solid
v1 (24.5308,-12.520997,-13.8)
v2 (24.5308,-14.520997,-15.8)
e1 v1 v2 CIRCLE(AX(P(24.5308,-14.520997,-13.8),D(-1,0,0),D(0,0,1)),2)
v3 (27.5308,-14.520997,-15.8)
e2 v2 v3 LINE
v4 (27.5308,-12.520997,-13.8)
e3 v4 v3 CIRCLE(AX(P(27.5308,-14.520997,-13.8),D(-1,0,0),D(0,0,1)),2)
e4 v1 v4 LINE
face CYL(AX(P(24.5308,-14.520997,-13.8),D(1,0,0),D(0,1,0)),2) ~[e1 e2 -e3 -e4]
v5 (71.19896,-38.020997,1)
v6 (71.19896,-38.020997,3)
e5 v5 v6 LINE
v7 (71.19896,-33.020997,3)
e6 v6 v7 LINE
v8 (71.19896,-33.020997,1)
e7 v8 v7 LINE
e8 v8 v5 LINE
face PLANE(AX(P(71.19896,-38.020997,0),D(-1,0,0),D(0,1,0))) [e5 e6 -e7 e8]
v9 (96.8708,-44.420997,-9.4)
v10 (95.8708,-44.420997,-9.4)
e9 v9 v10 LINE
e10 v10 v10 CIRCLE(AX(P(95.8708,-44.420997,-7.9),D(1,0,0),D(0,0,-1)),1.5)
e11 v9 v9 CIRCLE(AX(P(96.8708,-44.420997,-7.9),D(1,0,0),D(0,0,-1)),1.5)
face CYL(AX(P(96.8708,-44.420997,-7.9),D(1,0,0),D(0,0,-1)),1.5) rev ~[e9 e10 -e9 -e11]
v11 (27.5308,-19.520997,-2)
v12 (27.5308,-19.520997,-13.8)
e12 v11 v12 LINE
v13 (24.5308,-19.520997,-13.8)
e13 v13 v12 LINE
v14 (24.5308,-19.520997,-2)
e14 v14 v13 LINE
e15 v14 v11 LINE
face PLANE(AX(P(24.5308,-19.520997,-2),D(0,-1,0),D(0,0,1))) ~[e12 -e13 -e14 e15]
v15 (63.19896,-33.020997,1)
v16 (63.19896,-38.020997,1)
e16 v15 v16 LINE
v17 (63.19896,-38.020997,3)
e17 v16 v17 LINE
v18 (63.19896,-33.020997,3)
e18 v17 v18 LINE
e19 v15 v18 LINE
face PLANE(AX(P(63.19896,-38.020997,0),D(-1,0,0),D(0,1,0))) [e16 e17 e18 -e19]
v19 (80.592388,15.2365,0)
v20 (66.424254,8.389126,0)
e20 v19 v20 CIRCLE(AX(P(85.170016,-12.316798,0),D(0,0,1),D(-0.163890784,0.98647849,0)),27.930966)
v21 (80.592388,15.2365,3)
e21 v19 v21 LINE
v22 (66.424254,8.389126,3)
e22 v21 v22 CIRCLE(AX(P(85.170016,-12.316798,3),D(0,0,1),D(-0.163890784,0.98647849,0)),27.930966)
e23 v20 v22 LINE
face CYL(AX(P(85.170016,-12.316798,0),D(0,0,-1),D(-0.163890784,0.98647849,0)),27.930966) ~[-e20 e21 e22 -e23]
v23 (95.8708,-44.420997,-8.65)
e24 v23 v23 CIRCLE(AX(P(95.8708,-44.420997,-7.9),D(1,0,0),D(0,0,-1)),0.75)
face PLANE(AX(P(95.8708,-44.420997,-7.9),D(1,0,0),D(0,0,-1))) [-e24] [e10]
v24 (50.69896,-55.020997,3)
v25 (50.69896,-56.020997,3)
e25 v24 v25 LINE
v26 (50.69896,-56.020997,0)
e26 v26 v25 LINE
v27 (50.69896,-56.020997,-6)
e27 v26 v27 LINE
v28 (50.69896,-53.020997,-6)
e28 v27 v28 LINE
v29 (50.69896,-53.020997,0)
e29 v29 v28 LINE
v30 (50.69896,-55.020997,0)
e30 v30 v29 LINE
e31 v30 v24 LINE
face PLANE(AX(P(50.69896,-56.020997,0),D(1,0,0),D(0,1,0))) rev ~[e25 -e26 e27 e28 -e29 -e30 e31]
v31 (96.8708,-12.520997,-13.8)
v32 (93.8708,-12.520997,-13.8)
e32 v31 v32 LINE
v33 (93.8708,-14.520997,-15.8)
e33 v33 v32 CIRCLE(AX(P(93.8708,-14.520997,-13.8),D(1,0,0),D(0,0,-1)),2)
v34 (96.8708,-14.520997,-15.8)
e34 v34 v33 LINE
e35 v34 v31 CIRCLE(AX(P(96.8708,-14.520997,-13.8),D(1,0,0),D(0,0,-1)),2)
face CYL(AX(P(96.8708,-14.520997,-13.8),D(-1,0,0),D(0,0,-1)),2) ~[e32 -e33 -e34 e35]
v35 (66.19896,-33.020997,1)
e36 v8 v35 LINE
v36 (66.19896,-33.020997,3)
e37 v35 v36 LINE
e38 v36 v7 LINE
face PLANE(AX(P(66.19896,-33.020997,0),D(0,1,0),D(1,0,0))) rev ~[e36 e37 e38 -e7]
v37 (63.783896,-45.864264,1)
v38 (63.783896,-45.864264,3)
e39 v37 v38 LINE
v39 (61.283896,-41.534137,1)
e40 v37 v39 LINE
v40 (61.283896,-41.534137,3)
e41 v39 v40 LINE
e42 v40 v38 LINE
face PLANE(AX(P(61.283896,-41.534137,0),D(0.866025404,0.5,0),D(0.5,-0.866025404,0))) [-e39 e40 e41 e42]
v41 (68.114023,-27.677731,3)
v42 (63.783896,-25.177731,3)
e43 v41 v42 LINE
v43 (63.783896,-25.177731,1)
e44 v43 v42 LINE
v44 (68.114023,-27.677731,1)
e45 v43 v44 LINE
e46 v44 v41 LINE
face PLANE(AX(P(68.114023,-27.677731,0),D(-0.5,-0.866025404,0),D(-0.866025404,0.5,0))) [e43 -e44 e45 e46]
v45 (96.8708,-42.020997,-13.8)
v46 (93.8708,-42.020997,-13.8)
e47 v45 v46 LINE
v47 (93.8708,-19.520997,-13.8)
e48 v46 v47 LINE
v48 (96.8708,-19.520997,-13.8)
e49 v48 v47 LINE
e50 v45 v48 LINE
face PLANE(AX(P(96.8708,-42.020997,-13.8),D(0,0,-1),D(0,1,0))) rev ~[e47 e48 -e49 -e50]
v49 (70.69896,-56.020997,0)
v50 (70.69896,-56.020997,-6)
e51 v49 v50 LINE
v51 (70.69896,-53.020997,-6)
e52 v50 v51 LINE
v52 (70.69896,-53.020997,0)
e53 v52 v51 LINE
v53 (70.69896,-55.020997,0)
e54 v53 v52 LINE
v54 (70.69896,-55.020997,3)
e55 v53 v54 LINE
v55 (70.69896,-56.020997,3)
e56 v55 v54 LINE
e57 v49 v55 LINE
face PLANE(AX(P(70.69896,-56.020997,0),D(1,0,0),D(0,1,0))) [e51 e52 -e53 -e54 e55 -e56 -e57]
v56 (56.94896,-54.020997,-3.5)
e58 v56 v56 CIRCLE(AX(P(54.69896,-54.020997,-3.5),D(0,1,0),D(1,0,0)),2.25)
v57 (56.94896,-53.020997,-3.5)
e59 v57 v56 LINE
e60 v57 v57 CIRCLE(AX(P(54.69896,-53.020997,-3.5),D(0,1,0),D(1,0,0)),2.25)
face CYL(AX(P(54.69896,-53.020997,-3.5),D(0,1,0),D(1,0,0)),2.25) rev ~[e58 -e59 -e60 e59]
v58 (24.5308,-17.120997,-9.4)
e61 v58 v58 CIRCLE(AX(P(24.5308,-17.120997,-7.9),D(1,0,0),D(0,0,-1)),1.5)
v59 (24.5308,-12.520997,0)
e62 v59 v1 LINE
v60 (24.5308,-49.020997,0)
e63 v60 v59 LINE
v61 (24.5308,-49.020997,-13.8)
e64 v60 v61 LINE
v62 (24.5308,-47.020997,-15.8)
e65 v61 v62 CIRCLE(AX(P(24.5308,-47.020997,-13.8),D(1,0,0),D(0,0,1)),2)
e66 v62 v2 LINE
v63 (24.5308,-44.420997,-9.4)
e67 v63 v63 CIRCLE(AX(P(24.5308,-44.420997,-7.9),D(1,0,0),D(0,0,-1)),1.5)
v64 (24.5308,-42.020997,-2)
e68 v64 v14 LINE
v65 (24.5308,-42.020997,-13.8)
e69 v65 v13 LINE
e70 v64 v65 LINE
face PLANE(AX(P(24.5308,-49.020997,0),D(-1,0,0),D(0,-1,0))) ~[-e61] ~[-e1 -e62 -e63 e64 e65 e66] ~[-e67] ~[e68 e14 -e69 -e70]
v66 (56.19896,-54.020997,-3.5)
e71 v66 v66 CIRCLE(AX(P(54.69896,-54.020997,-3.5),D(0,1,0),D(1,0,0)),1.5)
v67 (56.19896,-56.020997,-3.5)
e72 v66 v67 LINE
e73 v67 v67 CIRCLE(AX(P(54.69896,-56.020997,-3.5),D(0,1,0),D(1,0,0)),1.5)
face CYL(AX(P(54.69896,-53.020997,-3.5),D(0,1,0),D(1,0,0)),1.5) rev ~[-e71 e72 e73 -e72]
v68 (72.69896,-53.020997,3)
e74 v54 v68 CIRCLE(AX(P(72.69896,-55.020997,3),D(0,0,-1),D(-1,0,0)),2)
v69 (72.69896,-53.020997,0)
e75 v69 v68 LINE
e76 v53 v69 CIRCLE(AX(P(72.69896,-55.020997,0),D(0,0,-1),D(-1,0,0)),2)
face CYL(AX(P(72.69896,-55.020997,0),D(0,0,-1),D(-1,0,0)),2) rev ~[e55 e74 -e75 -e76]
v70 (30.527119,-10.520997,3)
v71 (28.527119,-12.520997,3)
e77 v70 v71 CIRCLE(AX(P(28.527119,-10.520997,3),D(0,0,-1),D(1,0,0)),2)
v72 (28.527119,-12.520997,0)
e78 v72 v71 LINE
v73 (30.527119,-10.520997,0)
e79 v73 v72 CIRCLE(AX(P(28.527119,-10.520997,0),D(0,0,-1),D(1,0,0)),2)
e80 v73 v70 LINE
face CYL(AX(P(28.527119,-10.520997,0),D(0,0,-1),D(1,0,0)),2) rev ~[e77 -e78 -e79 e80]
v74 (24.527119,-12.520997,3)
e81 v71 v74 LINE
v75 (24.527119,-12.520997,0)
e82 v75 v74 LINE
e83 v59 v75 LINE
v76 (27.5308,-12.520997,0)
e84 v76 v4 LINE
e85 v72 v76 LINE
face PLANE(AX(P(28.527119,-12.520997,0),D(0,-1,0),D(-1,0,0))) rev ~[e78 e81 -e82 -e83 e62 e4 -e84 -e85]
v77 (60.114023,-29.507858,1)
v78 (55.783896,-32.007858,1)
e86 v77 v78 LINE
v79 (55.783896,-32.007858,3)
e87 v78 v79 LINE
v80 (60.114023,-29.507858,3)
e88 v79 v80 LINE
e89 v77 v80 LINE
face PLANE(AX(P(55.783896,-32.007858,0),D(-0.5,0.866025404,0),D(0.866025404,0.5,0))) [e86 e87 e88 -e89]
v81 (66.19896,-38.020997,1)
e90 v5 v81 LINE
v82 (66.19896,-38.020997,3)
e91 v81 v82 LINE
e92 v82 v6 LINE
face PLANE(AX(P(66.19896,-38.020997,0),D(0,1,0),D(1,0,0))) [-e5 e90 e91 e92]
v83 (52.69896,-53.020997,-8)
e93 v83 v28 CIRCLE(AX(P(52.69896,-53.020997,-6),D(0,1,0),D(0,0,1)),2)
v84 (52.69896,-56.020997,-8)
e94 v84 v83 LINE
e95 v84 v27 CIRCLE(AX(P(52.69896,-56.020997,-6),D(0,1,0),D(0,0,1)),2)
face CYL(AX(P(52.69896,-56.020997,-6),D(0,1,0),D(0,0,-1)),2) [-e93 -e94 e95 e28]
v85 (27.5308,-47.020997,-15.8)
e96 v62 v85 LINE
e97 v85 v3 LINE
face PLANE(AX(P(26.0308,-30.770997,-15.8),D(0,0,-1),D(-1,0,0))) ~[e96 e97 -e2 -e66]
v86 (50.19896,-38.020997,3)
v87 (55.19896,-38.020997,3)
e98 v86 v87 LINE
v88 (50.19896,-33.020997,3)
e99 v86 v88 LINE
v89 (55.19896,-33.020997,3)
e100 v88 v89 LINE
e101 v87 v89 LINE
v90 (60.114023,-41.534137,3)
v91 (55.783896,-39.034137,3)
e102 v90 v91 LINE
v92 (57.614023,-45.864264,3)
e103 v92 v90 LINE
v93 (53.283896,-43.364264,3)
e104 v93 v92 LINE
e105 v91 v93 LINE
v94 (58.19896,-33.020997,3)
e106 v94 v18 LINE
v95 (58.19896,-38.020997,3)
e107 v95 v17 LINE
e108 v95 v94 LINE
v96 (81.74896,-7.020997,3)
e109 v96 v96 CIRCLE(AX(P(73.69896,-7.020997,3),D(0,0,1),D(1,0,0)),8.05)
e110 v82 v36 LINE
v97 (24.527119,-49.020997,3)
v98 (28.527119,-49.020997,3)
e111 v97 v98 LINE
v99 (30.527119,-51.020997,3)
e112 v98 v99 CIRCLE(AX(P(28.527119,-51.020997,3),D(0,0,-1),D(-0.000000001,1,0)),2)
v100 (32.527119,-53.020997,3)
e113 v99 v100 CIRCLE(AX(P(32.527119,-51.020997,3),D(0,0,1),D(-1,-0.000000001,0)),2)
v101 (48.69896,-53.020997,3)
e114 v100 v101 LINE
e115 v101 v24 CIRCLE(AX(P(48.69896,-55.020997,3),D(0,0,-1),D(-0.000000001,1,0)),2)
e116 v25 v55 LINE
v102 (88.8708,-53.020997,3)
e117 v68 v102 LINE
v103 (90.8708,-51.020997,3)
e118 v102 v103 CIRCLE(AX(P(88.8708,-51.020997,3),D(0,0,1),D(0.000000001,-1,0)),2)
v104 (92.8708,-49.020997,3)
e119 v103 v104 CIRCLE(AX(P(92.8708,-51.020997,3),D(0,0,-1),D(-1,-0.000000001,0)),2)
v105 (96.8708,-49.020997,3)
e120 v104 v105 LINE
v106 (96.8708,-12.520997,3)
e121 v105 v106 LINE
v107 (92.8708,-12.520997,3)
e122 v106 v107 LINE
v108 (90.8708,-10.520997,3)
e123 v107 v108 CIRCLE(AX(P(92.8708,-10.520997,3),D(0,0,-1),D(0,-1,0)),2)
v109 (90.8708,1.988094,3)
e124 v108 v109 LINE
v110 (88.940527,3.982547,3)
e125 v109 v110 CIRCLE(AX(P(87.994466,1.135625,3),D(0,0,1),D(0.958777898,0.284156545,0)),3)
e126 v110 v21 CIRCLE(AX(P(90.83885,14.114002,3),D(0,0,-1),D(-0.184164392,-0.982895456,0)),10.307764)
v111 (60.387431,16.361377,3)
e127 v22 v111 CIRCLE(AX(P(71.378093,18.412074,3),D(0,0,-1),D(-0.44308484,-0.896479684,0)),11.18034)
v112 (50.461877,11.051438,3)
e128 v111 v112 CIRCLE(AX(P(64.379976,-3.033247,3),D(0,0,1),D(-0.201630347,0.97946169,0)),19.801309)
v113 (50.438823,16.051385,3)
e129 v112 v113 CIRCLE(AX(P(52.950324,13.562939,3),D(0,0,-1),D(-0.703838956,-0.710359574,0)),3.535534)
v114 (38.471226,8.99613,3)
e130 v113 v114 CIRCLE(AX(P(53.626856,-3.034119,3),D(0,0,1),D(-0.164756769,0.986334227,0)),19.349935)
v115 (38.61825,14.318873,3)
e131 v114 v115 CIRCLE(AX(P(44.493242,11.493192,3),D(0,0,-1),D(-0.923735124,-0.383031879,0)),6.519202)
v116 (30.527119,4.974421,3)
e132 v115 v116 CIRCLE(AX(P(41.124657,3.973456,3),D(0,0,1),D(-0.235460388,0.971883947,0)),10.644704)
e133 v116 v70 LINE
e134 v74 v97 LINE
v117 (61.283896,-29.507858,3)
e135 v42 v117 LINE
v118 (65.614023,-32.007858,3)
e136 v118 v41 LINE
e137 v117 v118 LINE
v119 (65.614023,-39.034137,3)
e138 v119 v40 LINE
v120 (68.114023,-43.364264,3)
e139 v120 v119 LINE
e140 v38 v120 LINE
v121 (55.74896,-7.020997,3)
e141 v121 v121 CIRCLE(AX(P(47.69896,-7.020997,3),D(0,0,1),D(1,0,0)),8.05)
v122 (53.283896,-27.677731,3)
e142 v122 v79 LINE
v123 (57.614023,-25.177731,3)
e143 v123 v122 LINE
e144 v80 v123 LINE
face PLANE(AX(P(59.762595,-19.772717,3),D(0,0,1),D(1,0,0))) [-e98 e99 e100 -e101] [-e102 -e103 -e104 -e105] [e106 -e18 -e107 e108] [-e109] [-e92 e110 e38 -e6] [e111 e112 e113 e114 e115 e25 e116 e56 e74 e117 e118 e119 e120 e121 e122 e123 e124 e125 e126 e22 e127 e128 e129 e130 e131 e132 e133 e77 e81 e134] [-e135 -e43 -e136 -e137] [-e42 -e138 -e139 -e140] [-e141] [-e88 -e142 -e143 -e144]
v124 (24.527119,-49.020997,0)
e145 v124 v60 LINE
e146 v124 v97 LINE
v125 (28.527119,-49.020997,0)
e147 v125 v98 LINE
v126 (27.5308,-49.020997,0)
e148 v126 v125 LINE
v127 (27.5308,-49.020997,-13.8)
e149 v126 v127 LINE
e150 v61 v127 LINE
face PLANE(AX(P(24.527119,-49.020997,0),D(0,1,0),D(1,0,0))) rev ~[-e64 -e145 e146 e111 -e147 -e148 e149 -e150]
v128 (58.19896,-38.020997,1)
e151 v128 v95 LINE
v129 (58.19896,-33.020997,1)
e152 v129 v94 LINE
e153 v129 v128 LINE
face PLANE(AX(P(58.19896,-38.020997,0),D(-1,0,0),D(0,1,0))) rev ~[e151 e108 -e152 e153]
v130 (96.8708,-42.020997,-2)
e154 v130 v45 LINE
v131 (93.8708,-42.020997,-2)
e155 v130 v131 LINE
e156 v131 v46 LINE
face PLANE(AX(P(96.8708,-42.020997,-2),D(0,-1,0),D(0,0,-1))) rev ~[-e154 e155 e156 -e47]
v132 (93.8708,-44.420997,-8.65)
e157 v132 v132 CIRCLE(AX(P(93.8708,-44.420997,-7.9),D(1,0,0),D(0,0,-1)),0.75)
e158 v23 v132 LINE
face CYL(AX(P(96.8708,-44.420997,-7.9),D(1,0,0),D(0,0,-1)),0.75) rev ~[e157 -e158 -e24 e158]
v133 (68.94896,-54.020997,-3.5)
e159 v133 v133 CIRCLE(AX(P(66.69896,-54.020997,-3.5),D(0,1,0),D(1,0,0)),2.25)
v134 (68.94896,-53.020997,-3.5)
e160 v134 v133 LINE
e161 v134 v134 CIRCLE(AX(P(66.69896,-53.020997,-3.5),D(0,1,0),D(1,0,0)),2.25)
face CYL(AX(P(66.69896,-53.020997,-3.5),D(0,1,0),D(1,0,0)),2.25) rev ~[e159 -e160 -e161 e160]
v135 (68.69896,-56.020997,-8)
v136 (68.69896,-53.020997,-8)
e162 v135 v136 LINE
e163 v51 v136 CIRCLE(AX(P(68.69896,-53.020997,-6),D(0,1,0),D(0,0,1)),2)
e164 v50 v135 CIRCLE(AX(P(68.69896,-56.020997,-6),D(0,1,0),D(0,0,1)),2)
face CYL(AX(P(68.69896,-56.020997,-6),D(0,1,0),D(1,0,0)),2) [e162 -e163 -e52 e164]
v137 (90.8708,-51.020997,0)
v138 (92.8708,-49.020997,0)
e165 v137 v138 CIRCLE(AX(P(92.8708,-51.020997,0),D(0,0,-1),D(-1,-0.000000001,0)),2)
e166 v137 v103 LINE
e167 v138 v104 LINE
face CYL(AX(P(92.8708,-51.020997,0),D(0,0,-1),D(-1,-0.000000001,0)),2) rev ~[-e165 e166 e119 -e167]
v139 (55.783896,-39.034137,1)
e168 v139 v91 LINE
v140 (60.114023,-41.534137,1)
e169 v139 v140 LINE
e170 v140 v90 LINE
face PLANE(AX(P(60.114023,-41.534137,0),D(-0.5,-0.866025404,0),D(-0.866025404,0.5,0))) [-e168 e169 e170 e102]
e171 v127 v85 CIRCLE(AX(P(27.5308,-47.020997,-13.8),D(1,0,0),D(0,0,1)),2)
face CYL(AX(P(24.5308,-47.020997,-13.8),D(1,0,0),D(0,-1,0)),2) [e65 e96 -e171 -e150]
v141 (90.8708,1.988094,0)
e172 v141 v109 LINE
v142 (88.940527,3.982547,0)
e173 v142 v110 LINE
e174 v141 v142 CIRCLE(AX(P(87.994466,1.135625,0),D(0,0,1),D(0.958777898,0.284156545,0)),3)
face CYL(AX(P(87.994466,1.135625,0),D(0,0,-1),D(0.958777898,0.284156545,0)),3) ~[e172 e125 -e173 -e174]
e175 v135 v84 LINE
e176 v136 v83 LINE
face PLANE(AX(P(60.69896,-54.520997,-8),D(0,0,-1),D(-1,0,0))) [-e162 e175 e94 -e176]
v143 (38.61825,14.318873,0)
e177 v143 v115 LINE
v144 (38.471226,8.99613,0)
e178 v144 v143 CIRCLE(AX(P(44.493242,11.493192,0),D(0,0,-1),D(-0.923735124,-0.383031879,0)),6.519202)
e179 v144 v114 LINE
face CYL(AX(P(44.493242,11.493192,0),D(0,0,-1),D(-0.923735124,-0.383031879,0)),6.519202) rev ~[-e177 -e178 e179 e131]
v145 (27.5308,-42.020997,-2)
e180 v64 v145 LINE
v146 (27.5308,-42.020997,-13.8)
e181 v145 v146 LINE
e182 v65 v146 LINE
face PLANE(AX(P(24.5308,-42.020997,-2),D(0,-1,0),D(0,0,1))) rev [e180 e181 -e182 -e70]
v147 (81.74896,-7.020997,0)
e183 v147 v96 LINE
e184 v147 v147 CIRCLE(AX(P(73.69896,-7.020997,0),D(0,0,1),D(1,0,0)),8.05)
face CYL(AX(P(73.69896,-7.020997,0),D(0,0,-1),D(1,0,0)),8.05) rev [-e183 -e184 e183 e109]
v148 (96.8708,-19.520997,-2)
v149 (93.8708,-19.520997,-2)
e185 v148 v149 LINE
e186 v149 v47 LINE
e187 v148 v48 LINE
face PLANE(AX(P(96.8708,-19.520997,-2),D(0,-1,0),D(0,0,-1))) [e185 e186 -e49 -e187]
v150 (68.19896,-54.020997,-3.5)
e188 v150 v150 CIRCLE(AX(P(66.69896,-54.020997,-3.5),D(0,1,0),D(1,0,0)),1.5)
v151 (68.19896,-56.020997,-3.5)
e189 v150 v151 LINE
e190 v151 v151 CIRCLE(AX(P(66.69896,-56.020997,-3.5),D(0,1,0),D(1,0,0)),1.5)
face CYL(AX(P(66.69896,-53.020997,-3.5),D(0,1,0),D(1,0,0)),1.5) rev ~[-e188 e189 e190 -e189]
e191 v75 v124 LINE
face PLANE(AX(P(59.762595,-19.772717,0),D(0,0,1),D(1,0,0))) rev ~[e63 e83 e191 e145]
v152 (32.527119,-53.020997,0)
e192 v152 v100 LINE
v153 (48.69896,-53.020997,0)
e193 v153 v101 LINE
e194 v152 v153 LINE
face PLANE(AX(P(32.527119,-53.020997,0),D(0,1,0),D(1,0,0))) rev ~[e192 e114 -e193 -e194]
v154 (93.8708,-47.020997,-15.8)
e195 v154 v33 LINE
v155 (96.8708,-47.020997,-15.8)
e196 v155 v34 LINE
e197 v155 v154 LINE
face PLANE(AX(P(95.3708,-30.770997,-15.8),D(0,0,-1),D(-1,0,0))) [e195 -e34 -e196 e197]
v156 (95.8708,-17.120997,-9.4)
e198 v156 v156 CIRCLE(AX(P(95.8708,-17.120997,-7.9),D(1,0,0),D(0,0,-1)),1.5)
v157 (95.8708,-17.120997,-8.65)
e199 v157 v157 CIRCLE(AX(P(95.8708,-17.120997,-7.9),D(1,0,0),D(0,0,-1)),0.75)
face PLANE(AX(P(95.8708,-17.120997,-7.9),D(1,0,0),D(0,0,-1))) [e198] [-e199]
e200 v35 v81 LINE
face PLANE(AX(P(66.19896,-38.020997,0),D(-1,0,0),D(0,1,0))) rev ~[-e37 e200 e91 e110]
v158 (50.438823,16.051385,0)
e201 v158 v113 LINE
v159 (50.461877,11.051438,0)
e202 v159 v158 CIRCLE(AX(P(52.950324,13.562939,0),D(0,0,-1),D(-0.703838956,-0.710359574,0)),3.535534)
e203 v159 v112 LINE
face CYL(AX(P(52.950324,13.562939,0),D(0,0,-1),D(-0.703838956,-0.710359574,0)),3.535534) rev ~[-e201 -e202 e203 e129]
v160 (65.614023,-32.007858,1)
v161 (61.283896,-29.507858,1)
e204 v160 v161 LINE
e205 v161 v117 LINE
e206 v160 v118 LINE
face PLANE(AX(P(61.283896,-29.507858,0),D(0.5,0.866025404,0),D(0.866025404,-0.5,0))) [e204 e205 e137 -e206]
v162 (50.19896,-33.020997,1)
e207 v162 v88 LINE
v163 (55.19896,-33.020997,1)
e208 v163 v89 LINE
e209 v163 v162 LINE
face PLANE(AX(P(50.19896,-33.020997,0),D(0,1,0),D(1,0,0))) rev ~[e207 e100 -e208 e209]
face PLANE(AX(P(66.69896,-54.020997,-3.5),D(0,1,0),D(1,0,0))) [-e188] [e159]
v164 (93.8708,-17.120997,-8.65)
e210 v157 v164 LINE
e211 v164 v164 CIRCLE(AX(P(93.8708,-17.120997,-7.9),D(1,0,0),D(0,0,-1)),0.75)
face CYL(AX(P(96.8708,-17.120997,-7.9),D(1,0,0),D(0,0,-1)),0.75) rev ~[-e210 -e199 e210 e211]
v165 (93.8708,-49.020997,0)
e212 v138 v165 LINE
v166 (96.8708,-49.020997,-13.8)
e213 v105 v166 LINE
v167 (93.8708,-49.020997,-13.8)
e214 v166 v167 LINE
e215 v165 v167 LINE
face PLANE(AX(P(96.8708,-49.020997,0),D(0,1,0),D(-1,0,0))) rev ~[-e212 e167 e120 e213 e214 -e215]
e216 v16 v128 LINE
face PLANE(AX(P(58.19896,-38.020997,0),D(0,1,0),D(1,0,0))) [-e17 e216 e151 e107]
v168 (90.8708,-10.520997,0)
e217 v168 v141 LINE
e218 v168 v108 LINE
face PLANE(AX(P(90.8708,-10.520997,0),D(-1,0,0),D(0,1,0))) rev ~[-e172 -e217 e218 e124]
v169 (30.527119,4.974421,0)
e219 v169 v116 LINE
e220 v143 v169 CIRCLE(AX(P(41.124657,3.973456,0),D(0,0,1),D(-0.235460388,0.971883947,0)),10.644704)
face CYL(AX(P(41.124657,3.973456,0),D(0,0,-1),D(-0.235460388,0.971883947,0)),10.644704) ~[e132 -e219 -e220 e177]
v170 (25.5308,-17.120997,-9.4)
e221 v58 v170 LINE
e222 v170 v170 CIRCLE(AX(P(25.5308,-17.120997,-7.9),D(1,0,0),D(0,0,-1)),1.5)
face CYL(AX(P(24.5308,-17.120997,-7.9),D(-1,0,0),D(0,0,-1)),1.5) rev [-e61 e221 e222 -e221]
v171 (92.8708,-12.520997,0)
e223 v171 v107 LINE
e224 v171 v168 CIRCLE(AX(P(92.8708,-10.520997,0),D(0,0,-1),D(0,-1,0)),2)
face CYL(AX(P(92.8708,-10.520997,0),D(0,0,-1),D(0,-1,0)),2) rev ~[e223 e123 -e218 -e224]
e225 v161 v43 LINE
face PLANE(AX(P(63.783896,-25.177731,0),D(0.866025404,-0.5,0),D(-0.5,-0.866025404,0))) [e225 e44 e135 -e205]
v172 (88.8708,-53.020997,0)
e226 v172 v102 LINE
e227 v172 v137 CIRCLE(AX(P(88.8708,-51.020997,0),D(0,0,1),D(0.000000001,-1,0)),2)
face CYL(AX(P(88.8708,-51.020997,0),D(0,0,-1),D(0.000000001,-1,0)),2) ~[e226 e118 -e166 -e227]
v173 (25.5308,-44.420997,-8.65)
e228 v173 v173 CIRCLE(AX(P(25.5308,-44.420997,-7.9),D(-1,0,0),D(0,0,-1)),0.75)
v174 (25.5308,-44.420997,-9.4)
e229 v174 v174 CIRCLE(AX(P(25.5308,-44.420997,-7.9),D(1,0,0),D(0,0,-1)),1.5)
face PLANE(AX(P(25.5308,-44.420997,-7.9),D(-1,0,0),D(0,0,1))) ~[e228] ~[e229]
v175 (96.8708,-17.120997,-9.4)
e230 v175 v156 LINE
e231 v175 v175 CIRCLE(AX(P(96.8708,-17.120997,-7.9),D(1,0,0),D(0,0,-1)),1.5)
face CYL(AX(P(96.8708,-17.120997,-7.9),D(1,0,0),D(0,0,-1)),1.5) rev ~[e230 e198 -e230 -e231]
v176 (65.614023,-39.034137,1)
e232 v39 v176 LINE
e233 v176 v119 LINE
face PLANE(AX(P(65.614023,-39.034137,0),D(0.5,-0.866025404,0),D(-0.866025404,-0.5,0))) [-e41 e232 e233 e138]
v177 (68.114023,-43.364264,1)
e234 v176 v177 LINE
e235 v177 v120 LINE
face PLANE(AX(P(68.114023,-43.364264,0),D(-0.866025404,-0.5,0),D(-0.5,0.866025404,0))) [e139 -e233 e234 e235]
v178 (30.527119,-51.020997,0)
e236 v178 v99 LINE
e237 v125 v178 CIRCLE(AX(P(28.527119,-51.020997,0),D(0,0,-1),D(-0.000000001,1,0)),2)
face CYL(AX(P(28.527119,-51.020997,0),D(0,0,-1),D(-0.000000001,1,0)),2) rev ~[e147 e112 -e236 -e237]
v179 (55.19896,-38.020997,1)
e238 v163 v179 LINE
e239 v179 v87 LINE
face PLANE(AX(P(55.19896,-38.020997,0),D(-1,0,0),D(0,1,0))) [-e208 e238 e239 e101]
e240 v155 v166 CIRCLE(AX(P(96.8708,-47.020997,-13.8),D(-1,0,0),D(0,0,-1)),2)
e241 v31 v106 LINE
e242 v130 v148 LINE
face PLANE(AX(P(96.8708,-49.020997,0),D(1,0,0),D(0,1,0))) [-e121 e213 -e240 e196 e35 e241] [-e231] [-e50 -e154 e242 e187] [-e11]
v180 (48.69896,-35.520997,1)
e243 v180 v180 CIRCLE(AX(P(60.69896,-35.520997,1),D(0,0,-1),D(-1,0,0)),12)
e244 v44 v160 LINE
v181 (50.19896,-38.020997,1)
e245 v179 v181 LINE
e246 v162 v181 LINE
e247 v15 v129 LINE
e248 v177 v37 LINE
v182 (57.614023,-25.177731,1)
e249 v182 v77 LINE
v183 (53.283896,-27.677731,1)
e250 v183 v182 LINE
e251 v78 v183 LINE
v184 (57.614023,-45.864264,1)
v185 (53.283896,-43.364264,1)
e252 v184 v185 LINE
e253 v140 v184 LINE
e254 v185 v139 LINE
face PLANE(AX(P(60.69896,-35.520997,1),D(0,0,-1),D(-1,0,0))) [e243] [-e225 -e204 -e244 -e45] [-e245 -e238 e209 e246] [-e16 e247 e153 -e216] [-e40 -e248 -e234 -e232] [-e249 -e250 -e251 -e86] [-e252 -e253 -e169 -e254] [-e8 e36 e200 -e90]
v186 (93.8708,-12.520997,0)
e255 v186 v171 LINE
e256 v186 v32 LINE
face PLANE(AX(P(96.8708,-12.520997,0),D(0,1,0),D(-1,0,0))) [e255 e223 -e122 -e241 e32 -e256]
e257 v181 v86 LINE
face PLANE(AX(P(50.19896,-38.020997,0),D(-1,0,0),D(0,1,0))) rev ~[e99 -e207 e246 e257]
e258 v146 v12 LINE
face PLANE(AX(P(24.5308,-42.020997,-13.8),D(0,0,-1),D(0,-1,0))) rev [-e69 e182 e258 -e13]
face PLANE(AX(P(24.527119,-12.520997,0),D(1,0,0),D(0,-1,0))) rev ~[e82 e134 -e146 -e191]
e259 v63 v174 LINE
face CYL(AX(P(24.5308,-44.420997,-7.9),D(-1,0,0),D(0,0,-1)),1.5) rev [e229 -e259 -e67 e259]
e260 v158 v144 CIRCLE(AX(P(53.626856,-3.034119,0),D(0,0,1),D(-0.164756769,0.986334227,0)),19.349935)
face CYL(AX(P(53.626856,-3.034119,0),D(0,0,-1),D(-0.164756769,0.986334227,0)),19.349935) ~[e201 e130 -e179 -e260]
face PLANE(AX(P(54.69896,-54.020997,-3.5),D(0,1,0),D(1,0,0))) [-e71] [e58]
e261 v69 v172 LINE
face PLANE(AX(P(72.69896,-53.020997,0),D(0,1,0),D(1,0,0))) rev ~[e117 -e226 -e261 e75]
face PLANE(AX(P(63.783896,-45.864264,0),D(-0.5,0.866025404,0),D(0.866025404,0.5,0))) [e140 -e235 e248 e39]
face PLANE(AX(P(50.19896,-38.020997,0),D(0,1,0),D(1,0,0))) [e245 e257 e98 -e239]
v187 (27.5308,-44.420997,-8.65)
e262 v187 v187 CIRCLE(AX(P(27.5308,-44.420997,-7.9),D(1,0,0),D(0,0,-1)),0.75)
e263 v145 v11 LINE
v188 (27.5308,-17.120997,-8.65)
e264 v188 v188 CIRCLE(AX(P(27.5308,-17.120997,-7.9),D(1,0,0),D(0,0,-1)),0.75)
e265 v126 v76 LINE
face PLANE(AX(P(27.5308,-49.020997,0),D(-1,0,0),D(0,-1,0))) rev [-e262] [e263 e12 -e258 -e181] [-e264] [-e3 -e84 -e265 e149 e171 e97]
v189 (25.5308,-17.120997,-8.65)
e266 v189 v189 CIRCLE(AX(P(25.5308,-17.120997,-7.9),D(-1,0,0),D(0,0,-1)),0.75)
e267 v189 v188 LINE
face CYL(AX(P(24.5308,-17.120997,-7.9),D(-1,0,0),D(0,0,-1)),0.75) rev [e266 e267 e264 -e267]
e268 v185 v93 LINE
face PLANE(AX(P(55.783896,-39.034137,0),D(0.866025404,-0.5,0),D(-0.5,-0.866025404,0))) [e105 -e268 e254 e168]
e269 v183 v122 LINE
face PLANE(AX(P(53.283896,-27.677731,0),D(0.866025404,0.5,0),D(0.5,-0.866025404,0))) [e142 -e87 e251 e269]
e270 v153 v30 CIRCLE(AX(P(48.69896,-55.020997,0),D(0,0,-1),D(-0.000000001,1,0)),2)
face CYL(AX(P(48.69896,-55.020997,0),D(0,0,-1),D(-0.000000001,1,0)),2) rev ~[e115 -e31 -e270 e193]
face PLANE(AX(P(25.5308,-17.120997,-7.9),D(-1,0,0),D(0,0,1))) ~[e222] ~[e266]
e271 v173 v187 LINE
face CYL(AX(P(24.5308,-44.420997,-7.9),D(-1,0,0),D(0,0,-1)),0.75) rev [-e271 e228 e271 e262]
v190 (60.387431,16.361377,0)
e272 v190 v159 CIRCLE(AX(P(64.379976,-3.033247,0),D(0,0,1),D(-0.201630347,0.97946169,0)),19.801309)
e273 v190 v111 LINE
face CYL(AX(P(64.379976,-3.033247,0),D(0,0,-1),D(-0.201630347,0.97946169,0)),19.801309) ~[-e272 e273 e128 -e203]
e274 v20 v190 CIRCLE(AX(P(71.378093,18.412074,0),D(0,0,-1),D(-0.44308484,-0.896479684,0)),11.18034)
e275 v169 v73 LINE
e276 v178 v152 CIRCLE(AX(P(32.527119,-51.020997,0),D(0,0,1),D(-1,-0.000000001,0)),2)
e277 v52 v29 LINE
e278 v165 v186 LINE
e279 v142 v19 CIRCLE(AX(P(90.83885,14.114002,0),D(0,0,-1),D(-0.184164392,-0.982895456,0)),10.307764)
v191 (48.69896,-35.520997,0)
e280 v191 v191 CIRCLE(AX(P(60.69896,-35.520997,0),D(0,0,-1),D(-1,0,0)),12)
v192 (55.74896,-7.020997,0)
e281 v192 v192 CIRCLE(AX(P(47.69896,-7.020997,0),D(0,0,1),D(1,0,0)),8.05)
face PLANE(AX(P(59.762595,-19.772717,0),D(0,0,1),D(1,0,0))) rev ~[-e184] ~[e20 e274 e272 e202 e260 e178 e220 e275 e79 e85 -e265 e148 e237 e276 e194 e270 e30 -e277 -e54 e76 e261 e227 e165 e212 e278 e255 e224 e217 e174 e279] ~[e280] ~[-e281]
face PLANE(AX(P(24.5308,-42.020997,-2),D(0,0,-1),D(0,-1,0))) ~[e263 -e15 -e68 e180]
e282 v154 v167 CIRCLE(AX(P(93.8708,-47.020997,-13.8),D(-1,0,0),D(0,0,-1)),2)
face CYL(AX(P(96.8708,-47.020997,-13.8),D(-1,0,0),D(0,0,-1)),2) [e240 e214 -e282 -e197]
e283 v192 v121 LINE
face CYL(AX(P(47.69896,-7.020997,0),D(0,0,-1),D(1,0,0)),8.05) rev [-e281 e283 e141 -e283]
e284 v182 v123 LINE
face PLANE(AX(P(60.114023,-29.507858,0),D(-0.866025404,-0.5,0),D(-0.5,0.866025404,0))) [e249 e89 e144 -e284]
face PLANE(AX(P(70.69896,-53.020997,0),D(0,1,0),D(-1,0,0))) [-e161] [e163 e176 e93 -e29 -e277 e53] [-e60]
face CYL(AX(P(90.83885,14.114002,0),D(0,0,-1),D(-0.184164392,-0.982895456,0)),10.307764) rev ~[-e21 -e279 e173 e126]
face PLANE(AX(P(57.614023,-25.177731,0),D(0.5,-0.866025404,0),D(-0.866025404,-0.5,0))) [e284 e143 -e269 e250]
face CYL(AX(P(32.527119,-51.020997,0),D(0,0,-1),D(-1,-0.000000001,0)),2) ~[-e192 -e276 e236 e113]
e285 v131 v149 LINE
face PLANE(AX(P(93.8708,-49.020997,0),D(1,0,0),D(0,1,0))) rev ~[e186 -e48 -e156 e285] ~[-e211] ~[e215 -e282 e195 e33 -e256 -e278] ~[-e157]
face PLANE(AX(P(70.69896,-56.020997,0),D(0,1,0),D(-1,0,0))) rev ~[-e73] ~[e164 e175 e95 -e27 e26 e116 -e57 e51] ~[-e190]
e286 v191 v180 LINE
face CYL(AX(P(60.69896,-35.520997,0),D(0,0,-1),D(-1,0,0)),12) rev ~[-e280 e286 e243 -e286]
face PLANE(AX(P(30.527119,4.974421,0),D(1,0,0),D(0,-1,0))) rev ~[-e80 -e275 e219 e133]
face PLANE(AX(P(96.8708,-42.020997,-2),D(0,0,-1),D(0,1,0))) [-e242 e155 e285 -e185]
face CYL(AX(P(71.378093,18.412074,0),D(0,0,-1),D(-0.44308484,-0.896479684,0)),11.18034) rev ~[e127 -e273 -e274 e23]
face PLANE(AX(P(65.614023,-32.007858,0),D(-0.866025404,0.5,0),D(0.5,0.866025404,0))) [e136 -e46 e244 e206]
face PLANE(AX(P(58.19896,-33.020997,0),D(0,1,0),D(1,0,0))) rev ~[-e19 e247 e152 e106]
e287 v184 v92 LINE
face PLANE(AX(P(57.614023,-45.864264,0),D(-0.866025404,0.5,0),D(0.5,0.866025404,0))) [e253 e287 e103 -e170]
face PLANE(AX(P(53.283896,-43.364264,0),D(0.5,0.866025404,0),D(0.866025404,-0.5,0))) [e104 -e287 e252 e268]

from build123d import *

# Parameters (mm, degrees)
MODEL_R                  = 8.05
MODEL_W                  = 5
MODEL_H                  = 5
SALIENTE_EXTRUIR1_DEPTH  = 3
CROQUIS3_W               = 3
CROQUIS3_H               = 36.5
SALIENTE_EXTRUIR2_DEPTH  = 15.8
CROQUIS4_R               = 0.75
CROQUIS4_W               = 11.8
CROQUIS4_H               = 22.5
CORTAR_EXTRUIR1_DEPTH    = 3
CROQUIS5_R               = 1.5
CORTAR_EXTRUIR2_DEPTH    = 1
REDONDEO1_R              = 2
REDONDEO1_OF_SIMETR_A1_R = 2
CROQUIS6_W               = 19.999999999
CROQUIS6_H               = 3
SALIENTE_EXTRUIR3_DEPTH  = 8
REDONDEO2_R              = 2
CROQUIS7_R               = 1.5
CORTAR_EXTRUIR3_DEPTH    = 3
CROQUIS8_R               = 2.25
CORTAR_EXTRUIR4_DEPTH    = 1
CROQUIS9_R               = 12
CORTAR_EXTRUIR5_DEPTH    = 1


with BuildPart() as part:
    # Model → Saliente-Extruir1 (new body)
    with BuildSketch(Plane.XY):
        with BuildLine():
            Line((24.527119253, -12.520997464), (24.527119253, -49.020997464))
            Line((24.527119253, -49.020997464), (28.527119253, -49.020997464))
            ThreePointArc((28.527119253, -49.020997464), (29.941332816, -49.606783901), (30.527119253, -51.020997464))
            ThreePointArc((30.527119253, -51.020997464), (31.112905691, -52.435211026), (32.527119253, -53.020997464))
            Line((32.527119253, -53.020997464), (48.698959582, -53.020997464))
            ThreePointArc((48.698959582, -53.020997464), (50.113173145, -53.606783901), (50.698959583, -55.020997464))
            Line((50.698959583, -55.020997464), (50.698959583, -56.020997464))
            Line((50.698959583, -56.020997464), (70.698959582, -56.020997464))
            Line((70.698959582, -56.020997464), (70.698959582, -55.020997464))
            ThreePointArc((70.698959582, -55.020997464), (71.28474602, -53.606783901), (72.698959583, -53.020997464))
            Line((72.698959583, -53.020997464), (88.870799912, -53.020997464))
            ThreePointArc((88.870799912, -53.020997464), (90.285013474, -52.435211026), (90.870799912, -51.020997464))
            ThreePointArc((90.870799912, -51.020997464), (91.456586349, -49.606783901), (92.870799912, -49.020997464))
            Line((92.870799912, -49.020997464), (96.870799912, -49.020997464))
            Line((96.870799912, -49.020997464), (96.870799912, -12.520997464))
            Line((96.870799912, -12.520997464), (92.870799912, -12.520997464))
            ThreePointArc((92.870799912, -12.520997464), (91.456586349, -11.935211026), (90.870799912, -10.520997464))
            Line((90.870799912, -10.520997464), (90.870799912, 1.98809425))
            ThreePointArc((90.870799912, 1.98809425), (90.150187884, 3.221976478), (88.940527152, 3.982547289))
            ThreePointArc((88.940527152, 3.982547289), (82.560153742, 7.972895656), (80.592387516, 15.236499516))
            ThreePointArc((80.592387516, 15.236499516), (73.016137183, 12.831206377), (66.424253692, 8.389126209))
            ThreePointArc((66.424253692, 8.389126209), (62.464845981, 11.66270114), (60.387431279, 16.361376528))
            ThreePointArc((60.387431279, 16.361376528), (55.039384462, 14.426569266), (50.461877073, 11.051438157))
            ThreePointArc((50.461877073, 11.051438157), (49.41482724, 13.546636971), (50.438823204, 16.051385009))
            ThreePointArc((50.438823204, 16.051385009), (43.800023098, 13.634815248), (38.471226177, 8.99613013))
            ThreePointArc((38.471226177, 8.99613013), (37.976525569, 11.673196605), (38.618250464, 14.318872844))
            ThreePointArc((38.618250464, 14.318872844), (33.077419178, 10.94136051), (30.527119253, 4.974420659))
            Line((30.527119253, 4.974420659), (30.527119253, -10.520997464))
            ThreePointArc((30.527119253, -10.520997464), (29.941332816, -11.935211026), (28.527119253, -12.520997464))
            Line((28.527119253, -12.520997464), (24.527119253, -12.520997464))
        make_face()
        with Locations((73.698959582, -7.020997464)):
            Circle(MODEL_R, mode=Mode.SUBTRACT)
        with Locations((47.698959583, -7.020997464)):
            Circle(MODEL_R, mode=Mode.SUBTRACT)
        with Locations((60.698959582, -35.520997464)):
            Rectangle(MODEL_W, MODEL_H, mode=Mode.SUBTRACT)
        with Locations((52.698959582, -35.520997464)):
            Rectangle(MODEL_W, MODEL_H, mode=Mode.SUBTRACT)
        Polygon((57.614023092, -25.177730724), (53.283896073, -27.677730724), (55.783896073, -32.007857743), (60.114023092, -29.507857743), align=None, mode=Mode.SUBTRACT)
        Polygon((68.114023092, -27.677730724), (63.783896073, -25.177730724), (61.283896073, -29.507857743), (65.614023092, -32.007857743), align=None, mode=Mode.SUBTRACT)
        with Locations((68.698959582, -35.520997464)):
            Rectangle(MODEL_W, MODEL_H, mode=Mode.SUBTRACT)
        Polygon((63.783896073, -45.864264204), (68.114023092, -43.364264204), (65.614023092, -39.034137185), (61.283896073, -41.534137185), align=None, mode=Mode.SUBTRACT)
        Polygon((53.283896073, -43.364264203), (57.614023092, -45.864264203), (60.114023092, -41.534137185), (55.783896073, -39.034137185), align=None, mode=Mode.SUBTRACT)
    extrude(amount=SALIENTE_EXTRUIR1_DEPTH)

    # Croquis3 → Saliente-Extruir2 (add)
    with BuildSketch(Plane(origin=(0, 0, 0), x_dir=(-1, 0, 0), z_dir=(0, 0, -1))):
        with Locations((-95.370799912, -30.770997464)):
            Rectangle(CROQUIS3_W, CROQUIS3_H)
    saliente_extruir2 = extrude(amount=SALIENTE_EXTRUIR2_DEPTH)

    # Croquis4 → Cortar-Extruir1 (cut)
    with BuildSketch(Plane(origin=(96.870799912, 0, 0), x_dir=(0, 0, -1), z_dir=(1, 0, 0))):
        with Locations((7.9, -44.420997464)):
            Circle(CROQUIS4_R)
        with Locations((7.9, -17.120997464)):
            Circle(CROQUIS4_R)
        with Locations((7.9, -30.770997464)):
            Rectangle(CROQUIS4_W, CROQUIS4_H)
    cortar_extruir1 = extrude(amount=-CORTAR_EXTRUIR1_DEPTH, mode=Mode.SUBTRACT)

    # Croquis5 → Cortar-Extruir2 (cut)
    with BuildSketch(Plane(origin=(96.870799912, 0, 0), x_dir=(0, 0, -1), z_dir=(1, 0, 0))):
        with Locations((7.9, -17.120997464)):
            Circle(CROQUIS5_R)
        with Locations((7.9, -44.420997464)):
            Circle(CROQUIS5_R)
    cortar_extruir2 = extrude(amount=-CORTAR_EXTRUIR2_DEPTH, mode=Mode.SUBTRACT)

    # Redondeo1
    redondeo1_edges = [part.edges().sort_by_distance(p)[0] for p in [
        (95.370799912, -49.020997464, -15.8),
        (95.370799912, -12.520997464, -15.8),
    ]]
    fillet(redondeo1_edges, radius=REDONDEO1_R)

    # Simetría1: Saliente-Extruir2, Cortar-Extruir1, Cortar-Extruir2 across plane
    add(saliente_extruir2.mirror(Plane(origin=(60.700799912, 0, 0), x_dir=(0, 0, 1), z_dir=(1, 0, 0))))
    add(cortar_extruir1.mirror(Plane(origin=(60.700799912, 0, 0), x_dir=(0, 0, 1), z_dir=(1, 0, 0))), mode=Mode.SUBTRACT)
    add(cortar_extruir2.mirror(Plane(origin=(60.700799912, 0, 0), x_dir=(0, 0, 1), z_dir=(1, 0, 0))), mode=Mode.SUBTRACT)

    # Redondeo1 of Simetría1
    redondeo1_of_simetr_a1_edges = [part.edges().sort_by_distance(p)[0] for p in [
        (26.030799912, -49.020997464, -15.8),
        (26.030799912, -12.520997464, -15.8),
    ]]
    fillet(redondeo1_of_simetr_a1_edges, radius=REDONDEO1_OF_SIMETR_A1_R)

    # Croquis6 → Saliente-Extruir3 (add)
    with BuildSketch(Plane(origin=(0, 0, 0), x_dir=(-1, 0, 0), z_dir=(0, 0, -1))):
        with Locations((-60.698959583, -54.520997464)):
            Rectangle(CROQUIS6_W, CROQUIS6_H)
    extrude(amount=SALIENTE_EXTRUIR3_DEPTH)

    # Redondeo2
    redondeo2_edges = [part.edges().sort_by_distance(p)[0] for p in [
        (50.698959583, -54.520997464, -8),
        (70.698959582, -54.520997464, -8),
    ]]
    fillet(redondeo2_edges, radius=REDONDEO2_R)

    # Croquis7 → Cortar-Extruir3 (cut)
    with BuildSketch(Plane(origin=(0, -53.020997464, 0), x_dir=(1, 0, 0), z_dir=(0, 1, 0))):
        with Locations((66.698959583, 3.5)):
            Circle(CROQUIS7_R)
        with Locations((54.698959582, 3.5)):
            Circle(CROQUIS7_R)
    extrude(amount=-CORTAR_EXTRUIR3_DEPTH, mode=Mode.SUBTRACT)

    # Croquis8 → Cortar-Extruir4 (cut)
    with BuildSketch(Plane(origin=(0, -53.020997464, 0), x_dir=(1, 0, 0), z_dir=(0, 1, 0))):
        with Locations((66.698959583, 3.5)):
            Circle(CROQUIS8_R)
        with Locations((54.698959582, 3.5)):
            Circle(CROQUIS8_R)
    extrude(amount=-CORTAR_EXTRUIR4_DEPTH, mode=Mode.SUBTRACT)

    # Croquis9 → Cortar-Extruir5 (cut)
    with BuildSketch(Plane(origin=(0, 0, 0), x_dir=(-1, 0, 0), z_dir=(0, 0, -1))):
        with Locations((-60.698959582, -35.520997464)):
            Circle(CROQUIS9_R)
    extrude(amount=-CORTAR_EXTRUIR5_DEPTH, mode=Mode.SUBTRACT)


solid = part.part
